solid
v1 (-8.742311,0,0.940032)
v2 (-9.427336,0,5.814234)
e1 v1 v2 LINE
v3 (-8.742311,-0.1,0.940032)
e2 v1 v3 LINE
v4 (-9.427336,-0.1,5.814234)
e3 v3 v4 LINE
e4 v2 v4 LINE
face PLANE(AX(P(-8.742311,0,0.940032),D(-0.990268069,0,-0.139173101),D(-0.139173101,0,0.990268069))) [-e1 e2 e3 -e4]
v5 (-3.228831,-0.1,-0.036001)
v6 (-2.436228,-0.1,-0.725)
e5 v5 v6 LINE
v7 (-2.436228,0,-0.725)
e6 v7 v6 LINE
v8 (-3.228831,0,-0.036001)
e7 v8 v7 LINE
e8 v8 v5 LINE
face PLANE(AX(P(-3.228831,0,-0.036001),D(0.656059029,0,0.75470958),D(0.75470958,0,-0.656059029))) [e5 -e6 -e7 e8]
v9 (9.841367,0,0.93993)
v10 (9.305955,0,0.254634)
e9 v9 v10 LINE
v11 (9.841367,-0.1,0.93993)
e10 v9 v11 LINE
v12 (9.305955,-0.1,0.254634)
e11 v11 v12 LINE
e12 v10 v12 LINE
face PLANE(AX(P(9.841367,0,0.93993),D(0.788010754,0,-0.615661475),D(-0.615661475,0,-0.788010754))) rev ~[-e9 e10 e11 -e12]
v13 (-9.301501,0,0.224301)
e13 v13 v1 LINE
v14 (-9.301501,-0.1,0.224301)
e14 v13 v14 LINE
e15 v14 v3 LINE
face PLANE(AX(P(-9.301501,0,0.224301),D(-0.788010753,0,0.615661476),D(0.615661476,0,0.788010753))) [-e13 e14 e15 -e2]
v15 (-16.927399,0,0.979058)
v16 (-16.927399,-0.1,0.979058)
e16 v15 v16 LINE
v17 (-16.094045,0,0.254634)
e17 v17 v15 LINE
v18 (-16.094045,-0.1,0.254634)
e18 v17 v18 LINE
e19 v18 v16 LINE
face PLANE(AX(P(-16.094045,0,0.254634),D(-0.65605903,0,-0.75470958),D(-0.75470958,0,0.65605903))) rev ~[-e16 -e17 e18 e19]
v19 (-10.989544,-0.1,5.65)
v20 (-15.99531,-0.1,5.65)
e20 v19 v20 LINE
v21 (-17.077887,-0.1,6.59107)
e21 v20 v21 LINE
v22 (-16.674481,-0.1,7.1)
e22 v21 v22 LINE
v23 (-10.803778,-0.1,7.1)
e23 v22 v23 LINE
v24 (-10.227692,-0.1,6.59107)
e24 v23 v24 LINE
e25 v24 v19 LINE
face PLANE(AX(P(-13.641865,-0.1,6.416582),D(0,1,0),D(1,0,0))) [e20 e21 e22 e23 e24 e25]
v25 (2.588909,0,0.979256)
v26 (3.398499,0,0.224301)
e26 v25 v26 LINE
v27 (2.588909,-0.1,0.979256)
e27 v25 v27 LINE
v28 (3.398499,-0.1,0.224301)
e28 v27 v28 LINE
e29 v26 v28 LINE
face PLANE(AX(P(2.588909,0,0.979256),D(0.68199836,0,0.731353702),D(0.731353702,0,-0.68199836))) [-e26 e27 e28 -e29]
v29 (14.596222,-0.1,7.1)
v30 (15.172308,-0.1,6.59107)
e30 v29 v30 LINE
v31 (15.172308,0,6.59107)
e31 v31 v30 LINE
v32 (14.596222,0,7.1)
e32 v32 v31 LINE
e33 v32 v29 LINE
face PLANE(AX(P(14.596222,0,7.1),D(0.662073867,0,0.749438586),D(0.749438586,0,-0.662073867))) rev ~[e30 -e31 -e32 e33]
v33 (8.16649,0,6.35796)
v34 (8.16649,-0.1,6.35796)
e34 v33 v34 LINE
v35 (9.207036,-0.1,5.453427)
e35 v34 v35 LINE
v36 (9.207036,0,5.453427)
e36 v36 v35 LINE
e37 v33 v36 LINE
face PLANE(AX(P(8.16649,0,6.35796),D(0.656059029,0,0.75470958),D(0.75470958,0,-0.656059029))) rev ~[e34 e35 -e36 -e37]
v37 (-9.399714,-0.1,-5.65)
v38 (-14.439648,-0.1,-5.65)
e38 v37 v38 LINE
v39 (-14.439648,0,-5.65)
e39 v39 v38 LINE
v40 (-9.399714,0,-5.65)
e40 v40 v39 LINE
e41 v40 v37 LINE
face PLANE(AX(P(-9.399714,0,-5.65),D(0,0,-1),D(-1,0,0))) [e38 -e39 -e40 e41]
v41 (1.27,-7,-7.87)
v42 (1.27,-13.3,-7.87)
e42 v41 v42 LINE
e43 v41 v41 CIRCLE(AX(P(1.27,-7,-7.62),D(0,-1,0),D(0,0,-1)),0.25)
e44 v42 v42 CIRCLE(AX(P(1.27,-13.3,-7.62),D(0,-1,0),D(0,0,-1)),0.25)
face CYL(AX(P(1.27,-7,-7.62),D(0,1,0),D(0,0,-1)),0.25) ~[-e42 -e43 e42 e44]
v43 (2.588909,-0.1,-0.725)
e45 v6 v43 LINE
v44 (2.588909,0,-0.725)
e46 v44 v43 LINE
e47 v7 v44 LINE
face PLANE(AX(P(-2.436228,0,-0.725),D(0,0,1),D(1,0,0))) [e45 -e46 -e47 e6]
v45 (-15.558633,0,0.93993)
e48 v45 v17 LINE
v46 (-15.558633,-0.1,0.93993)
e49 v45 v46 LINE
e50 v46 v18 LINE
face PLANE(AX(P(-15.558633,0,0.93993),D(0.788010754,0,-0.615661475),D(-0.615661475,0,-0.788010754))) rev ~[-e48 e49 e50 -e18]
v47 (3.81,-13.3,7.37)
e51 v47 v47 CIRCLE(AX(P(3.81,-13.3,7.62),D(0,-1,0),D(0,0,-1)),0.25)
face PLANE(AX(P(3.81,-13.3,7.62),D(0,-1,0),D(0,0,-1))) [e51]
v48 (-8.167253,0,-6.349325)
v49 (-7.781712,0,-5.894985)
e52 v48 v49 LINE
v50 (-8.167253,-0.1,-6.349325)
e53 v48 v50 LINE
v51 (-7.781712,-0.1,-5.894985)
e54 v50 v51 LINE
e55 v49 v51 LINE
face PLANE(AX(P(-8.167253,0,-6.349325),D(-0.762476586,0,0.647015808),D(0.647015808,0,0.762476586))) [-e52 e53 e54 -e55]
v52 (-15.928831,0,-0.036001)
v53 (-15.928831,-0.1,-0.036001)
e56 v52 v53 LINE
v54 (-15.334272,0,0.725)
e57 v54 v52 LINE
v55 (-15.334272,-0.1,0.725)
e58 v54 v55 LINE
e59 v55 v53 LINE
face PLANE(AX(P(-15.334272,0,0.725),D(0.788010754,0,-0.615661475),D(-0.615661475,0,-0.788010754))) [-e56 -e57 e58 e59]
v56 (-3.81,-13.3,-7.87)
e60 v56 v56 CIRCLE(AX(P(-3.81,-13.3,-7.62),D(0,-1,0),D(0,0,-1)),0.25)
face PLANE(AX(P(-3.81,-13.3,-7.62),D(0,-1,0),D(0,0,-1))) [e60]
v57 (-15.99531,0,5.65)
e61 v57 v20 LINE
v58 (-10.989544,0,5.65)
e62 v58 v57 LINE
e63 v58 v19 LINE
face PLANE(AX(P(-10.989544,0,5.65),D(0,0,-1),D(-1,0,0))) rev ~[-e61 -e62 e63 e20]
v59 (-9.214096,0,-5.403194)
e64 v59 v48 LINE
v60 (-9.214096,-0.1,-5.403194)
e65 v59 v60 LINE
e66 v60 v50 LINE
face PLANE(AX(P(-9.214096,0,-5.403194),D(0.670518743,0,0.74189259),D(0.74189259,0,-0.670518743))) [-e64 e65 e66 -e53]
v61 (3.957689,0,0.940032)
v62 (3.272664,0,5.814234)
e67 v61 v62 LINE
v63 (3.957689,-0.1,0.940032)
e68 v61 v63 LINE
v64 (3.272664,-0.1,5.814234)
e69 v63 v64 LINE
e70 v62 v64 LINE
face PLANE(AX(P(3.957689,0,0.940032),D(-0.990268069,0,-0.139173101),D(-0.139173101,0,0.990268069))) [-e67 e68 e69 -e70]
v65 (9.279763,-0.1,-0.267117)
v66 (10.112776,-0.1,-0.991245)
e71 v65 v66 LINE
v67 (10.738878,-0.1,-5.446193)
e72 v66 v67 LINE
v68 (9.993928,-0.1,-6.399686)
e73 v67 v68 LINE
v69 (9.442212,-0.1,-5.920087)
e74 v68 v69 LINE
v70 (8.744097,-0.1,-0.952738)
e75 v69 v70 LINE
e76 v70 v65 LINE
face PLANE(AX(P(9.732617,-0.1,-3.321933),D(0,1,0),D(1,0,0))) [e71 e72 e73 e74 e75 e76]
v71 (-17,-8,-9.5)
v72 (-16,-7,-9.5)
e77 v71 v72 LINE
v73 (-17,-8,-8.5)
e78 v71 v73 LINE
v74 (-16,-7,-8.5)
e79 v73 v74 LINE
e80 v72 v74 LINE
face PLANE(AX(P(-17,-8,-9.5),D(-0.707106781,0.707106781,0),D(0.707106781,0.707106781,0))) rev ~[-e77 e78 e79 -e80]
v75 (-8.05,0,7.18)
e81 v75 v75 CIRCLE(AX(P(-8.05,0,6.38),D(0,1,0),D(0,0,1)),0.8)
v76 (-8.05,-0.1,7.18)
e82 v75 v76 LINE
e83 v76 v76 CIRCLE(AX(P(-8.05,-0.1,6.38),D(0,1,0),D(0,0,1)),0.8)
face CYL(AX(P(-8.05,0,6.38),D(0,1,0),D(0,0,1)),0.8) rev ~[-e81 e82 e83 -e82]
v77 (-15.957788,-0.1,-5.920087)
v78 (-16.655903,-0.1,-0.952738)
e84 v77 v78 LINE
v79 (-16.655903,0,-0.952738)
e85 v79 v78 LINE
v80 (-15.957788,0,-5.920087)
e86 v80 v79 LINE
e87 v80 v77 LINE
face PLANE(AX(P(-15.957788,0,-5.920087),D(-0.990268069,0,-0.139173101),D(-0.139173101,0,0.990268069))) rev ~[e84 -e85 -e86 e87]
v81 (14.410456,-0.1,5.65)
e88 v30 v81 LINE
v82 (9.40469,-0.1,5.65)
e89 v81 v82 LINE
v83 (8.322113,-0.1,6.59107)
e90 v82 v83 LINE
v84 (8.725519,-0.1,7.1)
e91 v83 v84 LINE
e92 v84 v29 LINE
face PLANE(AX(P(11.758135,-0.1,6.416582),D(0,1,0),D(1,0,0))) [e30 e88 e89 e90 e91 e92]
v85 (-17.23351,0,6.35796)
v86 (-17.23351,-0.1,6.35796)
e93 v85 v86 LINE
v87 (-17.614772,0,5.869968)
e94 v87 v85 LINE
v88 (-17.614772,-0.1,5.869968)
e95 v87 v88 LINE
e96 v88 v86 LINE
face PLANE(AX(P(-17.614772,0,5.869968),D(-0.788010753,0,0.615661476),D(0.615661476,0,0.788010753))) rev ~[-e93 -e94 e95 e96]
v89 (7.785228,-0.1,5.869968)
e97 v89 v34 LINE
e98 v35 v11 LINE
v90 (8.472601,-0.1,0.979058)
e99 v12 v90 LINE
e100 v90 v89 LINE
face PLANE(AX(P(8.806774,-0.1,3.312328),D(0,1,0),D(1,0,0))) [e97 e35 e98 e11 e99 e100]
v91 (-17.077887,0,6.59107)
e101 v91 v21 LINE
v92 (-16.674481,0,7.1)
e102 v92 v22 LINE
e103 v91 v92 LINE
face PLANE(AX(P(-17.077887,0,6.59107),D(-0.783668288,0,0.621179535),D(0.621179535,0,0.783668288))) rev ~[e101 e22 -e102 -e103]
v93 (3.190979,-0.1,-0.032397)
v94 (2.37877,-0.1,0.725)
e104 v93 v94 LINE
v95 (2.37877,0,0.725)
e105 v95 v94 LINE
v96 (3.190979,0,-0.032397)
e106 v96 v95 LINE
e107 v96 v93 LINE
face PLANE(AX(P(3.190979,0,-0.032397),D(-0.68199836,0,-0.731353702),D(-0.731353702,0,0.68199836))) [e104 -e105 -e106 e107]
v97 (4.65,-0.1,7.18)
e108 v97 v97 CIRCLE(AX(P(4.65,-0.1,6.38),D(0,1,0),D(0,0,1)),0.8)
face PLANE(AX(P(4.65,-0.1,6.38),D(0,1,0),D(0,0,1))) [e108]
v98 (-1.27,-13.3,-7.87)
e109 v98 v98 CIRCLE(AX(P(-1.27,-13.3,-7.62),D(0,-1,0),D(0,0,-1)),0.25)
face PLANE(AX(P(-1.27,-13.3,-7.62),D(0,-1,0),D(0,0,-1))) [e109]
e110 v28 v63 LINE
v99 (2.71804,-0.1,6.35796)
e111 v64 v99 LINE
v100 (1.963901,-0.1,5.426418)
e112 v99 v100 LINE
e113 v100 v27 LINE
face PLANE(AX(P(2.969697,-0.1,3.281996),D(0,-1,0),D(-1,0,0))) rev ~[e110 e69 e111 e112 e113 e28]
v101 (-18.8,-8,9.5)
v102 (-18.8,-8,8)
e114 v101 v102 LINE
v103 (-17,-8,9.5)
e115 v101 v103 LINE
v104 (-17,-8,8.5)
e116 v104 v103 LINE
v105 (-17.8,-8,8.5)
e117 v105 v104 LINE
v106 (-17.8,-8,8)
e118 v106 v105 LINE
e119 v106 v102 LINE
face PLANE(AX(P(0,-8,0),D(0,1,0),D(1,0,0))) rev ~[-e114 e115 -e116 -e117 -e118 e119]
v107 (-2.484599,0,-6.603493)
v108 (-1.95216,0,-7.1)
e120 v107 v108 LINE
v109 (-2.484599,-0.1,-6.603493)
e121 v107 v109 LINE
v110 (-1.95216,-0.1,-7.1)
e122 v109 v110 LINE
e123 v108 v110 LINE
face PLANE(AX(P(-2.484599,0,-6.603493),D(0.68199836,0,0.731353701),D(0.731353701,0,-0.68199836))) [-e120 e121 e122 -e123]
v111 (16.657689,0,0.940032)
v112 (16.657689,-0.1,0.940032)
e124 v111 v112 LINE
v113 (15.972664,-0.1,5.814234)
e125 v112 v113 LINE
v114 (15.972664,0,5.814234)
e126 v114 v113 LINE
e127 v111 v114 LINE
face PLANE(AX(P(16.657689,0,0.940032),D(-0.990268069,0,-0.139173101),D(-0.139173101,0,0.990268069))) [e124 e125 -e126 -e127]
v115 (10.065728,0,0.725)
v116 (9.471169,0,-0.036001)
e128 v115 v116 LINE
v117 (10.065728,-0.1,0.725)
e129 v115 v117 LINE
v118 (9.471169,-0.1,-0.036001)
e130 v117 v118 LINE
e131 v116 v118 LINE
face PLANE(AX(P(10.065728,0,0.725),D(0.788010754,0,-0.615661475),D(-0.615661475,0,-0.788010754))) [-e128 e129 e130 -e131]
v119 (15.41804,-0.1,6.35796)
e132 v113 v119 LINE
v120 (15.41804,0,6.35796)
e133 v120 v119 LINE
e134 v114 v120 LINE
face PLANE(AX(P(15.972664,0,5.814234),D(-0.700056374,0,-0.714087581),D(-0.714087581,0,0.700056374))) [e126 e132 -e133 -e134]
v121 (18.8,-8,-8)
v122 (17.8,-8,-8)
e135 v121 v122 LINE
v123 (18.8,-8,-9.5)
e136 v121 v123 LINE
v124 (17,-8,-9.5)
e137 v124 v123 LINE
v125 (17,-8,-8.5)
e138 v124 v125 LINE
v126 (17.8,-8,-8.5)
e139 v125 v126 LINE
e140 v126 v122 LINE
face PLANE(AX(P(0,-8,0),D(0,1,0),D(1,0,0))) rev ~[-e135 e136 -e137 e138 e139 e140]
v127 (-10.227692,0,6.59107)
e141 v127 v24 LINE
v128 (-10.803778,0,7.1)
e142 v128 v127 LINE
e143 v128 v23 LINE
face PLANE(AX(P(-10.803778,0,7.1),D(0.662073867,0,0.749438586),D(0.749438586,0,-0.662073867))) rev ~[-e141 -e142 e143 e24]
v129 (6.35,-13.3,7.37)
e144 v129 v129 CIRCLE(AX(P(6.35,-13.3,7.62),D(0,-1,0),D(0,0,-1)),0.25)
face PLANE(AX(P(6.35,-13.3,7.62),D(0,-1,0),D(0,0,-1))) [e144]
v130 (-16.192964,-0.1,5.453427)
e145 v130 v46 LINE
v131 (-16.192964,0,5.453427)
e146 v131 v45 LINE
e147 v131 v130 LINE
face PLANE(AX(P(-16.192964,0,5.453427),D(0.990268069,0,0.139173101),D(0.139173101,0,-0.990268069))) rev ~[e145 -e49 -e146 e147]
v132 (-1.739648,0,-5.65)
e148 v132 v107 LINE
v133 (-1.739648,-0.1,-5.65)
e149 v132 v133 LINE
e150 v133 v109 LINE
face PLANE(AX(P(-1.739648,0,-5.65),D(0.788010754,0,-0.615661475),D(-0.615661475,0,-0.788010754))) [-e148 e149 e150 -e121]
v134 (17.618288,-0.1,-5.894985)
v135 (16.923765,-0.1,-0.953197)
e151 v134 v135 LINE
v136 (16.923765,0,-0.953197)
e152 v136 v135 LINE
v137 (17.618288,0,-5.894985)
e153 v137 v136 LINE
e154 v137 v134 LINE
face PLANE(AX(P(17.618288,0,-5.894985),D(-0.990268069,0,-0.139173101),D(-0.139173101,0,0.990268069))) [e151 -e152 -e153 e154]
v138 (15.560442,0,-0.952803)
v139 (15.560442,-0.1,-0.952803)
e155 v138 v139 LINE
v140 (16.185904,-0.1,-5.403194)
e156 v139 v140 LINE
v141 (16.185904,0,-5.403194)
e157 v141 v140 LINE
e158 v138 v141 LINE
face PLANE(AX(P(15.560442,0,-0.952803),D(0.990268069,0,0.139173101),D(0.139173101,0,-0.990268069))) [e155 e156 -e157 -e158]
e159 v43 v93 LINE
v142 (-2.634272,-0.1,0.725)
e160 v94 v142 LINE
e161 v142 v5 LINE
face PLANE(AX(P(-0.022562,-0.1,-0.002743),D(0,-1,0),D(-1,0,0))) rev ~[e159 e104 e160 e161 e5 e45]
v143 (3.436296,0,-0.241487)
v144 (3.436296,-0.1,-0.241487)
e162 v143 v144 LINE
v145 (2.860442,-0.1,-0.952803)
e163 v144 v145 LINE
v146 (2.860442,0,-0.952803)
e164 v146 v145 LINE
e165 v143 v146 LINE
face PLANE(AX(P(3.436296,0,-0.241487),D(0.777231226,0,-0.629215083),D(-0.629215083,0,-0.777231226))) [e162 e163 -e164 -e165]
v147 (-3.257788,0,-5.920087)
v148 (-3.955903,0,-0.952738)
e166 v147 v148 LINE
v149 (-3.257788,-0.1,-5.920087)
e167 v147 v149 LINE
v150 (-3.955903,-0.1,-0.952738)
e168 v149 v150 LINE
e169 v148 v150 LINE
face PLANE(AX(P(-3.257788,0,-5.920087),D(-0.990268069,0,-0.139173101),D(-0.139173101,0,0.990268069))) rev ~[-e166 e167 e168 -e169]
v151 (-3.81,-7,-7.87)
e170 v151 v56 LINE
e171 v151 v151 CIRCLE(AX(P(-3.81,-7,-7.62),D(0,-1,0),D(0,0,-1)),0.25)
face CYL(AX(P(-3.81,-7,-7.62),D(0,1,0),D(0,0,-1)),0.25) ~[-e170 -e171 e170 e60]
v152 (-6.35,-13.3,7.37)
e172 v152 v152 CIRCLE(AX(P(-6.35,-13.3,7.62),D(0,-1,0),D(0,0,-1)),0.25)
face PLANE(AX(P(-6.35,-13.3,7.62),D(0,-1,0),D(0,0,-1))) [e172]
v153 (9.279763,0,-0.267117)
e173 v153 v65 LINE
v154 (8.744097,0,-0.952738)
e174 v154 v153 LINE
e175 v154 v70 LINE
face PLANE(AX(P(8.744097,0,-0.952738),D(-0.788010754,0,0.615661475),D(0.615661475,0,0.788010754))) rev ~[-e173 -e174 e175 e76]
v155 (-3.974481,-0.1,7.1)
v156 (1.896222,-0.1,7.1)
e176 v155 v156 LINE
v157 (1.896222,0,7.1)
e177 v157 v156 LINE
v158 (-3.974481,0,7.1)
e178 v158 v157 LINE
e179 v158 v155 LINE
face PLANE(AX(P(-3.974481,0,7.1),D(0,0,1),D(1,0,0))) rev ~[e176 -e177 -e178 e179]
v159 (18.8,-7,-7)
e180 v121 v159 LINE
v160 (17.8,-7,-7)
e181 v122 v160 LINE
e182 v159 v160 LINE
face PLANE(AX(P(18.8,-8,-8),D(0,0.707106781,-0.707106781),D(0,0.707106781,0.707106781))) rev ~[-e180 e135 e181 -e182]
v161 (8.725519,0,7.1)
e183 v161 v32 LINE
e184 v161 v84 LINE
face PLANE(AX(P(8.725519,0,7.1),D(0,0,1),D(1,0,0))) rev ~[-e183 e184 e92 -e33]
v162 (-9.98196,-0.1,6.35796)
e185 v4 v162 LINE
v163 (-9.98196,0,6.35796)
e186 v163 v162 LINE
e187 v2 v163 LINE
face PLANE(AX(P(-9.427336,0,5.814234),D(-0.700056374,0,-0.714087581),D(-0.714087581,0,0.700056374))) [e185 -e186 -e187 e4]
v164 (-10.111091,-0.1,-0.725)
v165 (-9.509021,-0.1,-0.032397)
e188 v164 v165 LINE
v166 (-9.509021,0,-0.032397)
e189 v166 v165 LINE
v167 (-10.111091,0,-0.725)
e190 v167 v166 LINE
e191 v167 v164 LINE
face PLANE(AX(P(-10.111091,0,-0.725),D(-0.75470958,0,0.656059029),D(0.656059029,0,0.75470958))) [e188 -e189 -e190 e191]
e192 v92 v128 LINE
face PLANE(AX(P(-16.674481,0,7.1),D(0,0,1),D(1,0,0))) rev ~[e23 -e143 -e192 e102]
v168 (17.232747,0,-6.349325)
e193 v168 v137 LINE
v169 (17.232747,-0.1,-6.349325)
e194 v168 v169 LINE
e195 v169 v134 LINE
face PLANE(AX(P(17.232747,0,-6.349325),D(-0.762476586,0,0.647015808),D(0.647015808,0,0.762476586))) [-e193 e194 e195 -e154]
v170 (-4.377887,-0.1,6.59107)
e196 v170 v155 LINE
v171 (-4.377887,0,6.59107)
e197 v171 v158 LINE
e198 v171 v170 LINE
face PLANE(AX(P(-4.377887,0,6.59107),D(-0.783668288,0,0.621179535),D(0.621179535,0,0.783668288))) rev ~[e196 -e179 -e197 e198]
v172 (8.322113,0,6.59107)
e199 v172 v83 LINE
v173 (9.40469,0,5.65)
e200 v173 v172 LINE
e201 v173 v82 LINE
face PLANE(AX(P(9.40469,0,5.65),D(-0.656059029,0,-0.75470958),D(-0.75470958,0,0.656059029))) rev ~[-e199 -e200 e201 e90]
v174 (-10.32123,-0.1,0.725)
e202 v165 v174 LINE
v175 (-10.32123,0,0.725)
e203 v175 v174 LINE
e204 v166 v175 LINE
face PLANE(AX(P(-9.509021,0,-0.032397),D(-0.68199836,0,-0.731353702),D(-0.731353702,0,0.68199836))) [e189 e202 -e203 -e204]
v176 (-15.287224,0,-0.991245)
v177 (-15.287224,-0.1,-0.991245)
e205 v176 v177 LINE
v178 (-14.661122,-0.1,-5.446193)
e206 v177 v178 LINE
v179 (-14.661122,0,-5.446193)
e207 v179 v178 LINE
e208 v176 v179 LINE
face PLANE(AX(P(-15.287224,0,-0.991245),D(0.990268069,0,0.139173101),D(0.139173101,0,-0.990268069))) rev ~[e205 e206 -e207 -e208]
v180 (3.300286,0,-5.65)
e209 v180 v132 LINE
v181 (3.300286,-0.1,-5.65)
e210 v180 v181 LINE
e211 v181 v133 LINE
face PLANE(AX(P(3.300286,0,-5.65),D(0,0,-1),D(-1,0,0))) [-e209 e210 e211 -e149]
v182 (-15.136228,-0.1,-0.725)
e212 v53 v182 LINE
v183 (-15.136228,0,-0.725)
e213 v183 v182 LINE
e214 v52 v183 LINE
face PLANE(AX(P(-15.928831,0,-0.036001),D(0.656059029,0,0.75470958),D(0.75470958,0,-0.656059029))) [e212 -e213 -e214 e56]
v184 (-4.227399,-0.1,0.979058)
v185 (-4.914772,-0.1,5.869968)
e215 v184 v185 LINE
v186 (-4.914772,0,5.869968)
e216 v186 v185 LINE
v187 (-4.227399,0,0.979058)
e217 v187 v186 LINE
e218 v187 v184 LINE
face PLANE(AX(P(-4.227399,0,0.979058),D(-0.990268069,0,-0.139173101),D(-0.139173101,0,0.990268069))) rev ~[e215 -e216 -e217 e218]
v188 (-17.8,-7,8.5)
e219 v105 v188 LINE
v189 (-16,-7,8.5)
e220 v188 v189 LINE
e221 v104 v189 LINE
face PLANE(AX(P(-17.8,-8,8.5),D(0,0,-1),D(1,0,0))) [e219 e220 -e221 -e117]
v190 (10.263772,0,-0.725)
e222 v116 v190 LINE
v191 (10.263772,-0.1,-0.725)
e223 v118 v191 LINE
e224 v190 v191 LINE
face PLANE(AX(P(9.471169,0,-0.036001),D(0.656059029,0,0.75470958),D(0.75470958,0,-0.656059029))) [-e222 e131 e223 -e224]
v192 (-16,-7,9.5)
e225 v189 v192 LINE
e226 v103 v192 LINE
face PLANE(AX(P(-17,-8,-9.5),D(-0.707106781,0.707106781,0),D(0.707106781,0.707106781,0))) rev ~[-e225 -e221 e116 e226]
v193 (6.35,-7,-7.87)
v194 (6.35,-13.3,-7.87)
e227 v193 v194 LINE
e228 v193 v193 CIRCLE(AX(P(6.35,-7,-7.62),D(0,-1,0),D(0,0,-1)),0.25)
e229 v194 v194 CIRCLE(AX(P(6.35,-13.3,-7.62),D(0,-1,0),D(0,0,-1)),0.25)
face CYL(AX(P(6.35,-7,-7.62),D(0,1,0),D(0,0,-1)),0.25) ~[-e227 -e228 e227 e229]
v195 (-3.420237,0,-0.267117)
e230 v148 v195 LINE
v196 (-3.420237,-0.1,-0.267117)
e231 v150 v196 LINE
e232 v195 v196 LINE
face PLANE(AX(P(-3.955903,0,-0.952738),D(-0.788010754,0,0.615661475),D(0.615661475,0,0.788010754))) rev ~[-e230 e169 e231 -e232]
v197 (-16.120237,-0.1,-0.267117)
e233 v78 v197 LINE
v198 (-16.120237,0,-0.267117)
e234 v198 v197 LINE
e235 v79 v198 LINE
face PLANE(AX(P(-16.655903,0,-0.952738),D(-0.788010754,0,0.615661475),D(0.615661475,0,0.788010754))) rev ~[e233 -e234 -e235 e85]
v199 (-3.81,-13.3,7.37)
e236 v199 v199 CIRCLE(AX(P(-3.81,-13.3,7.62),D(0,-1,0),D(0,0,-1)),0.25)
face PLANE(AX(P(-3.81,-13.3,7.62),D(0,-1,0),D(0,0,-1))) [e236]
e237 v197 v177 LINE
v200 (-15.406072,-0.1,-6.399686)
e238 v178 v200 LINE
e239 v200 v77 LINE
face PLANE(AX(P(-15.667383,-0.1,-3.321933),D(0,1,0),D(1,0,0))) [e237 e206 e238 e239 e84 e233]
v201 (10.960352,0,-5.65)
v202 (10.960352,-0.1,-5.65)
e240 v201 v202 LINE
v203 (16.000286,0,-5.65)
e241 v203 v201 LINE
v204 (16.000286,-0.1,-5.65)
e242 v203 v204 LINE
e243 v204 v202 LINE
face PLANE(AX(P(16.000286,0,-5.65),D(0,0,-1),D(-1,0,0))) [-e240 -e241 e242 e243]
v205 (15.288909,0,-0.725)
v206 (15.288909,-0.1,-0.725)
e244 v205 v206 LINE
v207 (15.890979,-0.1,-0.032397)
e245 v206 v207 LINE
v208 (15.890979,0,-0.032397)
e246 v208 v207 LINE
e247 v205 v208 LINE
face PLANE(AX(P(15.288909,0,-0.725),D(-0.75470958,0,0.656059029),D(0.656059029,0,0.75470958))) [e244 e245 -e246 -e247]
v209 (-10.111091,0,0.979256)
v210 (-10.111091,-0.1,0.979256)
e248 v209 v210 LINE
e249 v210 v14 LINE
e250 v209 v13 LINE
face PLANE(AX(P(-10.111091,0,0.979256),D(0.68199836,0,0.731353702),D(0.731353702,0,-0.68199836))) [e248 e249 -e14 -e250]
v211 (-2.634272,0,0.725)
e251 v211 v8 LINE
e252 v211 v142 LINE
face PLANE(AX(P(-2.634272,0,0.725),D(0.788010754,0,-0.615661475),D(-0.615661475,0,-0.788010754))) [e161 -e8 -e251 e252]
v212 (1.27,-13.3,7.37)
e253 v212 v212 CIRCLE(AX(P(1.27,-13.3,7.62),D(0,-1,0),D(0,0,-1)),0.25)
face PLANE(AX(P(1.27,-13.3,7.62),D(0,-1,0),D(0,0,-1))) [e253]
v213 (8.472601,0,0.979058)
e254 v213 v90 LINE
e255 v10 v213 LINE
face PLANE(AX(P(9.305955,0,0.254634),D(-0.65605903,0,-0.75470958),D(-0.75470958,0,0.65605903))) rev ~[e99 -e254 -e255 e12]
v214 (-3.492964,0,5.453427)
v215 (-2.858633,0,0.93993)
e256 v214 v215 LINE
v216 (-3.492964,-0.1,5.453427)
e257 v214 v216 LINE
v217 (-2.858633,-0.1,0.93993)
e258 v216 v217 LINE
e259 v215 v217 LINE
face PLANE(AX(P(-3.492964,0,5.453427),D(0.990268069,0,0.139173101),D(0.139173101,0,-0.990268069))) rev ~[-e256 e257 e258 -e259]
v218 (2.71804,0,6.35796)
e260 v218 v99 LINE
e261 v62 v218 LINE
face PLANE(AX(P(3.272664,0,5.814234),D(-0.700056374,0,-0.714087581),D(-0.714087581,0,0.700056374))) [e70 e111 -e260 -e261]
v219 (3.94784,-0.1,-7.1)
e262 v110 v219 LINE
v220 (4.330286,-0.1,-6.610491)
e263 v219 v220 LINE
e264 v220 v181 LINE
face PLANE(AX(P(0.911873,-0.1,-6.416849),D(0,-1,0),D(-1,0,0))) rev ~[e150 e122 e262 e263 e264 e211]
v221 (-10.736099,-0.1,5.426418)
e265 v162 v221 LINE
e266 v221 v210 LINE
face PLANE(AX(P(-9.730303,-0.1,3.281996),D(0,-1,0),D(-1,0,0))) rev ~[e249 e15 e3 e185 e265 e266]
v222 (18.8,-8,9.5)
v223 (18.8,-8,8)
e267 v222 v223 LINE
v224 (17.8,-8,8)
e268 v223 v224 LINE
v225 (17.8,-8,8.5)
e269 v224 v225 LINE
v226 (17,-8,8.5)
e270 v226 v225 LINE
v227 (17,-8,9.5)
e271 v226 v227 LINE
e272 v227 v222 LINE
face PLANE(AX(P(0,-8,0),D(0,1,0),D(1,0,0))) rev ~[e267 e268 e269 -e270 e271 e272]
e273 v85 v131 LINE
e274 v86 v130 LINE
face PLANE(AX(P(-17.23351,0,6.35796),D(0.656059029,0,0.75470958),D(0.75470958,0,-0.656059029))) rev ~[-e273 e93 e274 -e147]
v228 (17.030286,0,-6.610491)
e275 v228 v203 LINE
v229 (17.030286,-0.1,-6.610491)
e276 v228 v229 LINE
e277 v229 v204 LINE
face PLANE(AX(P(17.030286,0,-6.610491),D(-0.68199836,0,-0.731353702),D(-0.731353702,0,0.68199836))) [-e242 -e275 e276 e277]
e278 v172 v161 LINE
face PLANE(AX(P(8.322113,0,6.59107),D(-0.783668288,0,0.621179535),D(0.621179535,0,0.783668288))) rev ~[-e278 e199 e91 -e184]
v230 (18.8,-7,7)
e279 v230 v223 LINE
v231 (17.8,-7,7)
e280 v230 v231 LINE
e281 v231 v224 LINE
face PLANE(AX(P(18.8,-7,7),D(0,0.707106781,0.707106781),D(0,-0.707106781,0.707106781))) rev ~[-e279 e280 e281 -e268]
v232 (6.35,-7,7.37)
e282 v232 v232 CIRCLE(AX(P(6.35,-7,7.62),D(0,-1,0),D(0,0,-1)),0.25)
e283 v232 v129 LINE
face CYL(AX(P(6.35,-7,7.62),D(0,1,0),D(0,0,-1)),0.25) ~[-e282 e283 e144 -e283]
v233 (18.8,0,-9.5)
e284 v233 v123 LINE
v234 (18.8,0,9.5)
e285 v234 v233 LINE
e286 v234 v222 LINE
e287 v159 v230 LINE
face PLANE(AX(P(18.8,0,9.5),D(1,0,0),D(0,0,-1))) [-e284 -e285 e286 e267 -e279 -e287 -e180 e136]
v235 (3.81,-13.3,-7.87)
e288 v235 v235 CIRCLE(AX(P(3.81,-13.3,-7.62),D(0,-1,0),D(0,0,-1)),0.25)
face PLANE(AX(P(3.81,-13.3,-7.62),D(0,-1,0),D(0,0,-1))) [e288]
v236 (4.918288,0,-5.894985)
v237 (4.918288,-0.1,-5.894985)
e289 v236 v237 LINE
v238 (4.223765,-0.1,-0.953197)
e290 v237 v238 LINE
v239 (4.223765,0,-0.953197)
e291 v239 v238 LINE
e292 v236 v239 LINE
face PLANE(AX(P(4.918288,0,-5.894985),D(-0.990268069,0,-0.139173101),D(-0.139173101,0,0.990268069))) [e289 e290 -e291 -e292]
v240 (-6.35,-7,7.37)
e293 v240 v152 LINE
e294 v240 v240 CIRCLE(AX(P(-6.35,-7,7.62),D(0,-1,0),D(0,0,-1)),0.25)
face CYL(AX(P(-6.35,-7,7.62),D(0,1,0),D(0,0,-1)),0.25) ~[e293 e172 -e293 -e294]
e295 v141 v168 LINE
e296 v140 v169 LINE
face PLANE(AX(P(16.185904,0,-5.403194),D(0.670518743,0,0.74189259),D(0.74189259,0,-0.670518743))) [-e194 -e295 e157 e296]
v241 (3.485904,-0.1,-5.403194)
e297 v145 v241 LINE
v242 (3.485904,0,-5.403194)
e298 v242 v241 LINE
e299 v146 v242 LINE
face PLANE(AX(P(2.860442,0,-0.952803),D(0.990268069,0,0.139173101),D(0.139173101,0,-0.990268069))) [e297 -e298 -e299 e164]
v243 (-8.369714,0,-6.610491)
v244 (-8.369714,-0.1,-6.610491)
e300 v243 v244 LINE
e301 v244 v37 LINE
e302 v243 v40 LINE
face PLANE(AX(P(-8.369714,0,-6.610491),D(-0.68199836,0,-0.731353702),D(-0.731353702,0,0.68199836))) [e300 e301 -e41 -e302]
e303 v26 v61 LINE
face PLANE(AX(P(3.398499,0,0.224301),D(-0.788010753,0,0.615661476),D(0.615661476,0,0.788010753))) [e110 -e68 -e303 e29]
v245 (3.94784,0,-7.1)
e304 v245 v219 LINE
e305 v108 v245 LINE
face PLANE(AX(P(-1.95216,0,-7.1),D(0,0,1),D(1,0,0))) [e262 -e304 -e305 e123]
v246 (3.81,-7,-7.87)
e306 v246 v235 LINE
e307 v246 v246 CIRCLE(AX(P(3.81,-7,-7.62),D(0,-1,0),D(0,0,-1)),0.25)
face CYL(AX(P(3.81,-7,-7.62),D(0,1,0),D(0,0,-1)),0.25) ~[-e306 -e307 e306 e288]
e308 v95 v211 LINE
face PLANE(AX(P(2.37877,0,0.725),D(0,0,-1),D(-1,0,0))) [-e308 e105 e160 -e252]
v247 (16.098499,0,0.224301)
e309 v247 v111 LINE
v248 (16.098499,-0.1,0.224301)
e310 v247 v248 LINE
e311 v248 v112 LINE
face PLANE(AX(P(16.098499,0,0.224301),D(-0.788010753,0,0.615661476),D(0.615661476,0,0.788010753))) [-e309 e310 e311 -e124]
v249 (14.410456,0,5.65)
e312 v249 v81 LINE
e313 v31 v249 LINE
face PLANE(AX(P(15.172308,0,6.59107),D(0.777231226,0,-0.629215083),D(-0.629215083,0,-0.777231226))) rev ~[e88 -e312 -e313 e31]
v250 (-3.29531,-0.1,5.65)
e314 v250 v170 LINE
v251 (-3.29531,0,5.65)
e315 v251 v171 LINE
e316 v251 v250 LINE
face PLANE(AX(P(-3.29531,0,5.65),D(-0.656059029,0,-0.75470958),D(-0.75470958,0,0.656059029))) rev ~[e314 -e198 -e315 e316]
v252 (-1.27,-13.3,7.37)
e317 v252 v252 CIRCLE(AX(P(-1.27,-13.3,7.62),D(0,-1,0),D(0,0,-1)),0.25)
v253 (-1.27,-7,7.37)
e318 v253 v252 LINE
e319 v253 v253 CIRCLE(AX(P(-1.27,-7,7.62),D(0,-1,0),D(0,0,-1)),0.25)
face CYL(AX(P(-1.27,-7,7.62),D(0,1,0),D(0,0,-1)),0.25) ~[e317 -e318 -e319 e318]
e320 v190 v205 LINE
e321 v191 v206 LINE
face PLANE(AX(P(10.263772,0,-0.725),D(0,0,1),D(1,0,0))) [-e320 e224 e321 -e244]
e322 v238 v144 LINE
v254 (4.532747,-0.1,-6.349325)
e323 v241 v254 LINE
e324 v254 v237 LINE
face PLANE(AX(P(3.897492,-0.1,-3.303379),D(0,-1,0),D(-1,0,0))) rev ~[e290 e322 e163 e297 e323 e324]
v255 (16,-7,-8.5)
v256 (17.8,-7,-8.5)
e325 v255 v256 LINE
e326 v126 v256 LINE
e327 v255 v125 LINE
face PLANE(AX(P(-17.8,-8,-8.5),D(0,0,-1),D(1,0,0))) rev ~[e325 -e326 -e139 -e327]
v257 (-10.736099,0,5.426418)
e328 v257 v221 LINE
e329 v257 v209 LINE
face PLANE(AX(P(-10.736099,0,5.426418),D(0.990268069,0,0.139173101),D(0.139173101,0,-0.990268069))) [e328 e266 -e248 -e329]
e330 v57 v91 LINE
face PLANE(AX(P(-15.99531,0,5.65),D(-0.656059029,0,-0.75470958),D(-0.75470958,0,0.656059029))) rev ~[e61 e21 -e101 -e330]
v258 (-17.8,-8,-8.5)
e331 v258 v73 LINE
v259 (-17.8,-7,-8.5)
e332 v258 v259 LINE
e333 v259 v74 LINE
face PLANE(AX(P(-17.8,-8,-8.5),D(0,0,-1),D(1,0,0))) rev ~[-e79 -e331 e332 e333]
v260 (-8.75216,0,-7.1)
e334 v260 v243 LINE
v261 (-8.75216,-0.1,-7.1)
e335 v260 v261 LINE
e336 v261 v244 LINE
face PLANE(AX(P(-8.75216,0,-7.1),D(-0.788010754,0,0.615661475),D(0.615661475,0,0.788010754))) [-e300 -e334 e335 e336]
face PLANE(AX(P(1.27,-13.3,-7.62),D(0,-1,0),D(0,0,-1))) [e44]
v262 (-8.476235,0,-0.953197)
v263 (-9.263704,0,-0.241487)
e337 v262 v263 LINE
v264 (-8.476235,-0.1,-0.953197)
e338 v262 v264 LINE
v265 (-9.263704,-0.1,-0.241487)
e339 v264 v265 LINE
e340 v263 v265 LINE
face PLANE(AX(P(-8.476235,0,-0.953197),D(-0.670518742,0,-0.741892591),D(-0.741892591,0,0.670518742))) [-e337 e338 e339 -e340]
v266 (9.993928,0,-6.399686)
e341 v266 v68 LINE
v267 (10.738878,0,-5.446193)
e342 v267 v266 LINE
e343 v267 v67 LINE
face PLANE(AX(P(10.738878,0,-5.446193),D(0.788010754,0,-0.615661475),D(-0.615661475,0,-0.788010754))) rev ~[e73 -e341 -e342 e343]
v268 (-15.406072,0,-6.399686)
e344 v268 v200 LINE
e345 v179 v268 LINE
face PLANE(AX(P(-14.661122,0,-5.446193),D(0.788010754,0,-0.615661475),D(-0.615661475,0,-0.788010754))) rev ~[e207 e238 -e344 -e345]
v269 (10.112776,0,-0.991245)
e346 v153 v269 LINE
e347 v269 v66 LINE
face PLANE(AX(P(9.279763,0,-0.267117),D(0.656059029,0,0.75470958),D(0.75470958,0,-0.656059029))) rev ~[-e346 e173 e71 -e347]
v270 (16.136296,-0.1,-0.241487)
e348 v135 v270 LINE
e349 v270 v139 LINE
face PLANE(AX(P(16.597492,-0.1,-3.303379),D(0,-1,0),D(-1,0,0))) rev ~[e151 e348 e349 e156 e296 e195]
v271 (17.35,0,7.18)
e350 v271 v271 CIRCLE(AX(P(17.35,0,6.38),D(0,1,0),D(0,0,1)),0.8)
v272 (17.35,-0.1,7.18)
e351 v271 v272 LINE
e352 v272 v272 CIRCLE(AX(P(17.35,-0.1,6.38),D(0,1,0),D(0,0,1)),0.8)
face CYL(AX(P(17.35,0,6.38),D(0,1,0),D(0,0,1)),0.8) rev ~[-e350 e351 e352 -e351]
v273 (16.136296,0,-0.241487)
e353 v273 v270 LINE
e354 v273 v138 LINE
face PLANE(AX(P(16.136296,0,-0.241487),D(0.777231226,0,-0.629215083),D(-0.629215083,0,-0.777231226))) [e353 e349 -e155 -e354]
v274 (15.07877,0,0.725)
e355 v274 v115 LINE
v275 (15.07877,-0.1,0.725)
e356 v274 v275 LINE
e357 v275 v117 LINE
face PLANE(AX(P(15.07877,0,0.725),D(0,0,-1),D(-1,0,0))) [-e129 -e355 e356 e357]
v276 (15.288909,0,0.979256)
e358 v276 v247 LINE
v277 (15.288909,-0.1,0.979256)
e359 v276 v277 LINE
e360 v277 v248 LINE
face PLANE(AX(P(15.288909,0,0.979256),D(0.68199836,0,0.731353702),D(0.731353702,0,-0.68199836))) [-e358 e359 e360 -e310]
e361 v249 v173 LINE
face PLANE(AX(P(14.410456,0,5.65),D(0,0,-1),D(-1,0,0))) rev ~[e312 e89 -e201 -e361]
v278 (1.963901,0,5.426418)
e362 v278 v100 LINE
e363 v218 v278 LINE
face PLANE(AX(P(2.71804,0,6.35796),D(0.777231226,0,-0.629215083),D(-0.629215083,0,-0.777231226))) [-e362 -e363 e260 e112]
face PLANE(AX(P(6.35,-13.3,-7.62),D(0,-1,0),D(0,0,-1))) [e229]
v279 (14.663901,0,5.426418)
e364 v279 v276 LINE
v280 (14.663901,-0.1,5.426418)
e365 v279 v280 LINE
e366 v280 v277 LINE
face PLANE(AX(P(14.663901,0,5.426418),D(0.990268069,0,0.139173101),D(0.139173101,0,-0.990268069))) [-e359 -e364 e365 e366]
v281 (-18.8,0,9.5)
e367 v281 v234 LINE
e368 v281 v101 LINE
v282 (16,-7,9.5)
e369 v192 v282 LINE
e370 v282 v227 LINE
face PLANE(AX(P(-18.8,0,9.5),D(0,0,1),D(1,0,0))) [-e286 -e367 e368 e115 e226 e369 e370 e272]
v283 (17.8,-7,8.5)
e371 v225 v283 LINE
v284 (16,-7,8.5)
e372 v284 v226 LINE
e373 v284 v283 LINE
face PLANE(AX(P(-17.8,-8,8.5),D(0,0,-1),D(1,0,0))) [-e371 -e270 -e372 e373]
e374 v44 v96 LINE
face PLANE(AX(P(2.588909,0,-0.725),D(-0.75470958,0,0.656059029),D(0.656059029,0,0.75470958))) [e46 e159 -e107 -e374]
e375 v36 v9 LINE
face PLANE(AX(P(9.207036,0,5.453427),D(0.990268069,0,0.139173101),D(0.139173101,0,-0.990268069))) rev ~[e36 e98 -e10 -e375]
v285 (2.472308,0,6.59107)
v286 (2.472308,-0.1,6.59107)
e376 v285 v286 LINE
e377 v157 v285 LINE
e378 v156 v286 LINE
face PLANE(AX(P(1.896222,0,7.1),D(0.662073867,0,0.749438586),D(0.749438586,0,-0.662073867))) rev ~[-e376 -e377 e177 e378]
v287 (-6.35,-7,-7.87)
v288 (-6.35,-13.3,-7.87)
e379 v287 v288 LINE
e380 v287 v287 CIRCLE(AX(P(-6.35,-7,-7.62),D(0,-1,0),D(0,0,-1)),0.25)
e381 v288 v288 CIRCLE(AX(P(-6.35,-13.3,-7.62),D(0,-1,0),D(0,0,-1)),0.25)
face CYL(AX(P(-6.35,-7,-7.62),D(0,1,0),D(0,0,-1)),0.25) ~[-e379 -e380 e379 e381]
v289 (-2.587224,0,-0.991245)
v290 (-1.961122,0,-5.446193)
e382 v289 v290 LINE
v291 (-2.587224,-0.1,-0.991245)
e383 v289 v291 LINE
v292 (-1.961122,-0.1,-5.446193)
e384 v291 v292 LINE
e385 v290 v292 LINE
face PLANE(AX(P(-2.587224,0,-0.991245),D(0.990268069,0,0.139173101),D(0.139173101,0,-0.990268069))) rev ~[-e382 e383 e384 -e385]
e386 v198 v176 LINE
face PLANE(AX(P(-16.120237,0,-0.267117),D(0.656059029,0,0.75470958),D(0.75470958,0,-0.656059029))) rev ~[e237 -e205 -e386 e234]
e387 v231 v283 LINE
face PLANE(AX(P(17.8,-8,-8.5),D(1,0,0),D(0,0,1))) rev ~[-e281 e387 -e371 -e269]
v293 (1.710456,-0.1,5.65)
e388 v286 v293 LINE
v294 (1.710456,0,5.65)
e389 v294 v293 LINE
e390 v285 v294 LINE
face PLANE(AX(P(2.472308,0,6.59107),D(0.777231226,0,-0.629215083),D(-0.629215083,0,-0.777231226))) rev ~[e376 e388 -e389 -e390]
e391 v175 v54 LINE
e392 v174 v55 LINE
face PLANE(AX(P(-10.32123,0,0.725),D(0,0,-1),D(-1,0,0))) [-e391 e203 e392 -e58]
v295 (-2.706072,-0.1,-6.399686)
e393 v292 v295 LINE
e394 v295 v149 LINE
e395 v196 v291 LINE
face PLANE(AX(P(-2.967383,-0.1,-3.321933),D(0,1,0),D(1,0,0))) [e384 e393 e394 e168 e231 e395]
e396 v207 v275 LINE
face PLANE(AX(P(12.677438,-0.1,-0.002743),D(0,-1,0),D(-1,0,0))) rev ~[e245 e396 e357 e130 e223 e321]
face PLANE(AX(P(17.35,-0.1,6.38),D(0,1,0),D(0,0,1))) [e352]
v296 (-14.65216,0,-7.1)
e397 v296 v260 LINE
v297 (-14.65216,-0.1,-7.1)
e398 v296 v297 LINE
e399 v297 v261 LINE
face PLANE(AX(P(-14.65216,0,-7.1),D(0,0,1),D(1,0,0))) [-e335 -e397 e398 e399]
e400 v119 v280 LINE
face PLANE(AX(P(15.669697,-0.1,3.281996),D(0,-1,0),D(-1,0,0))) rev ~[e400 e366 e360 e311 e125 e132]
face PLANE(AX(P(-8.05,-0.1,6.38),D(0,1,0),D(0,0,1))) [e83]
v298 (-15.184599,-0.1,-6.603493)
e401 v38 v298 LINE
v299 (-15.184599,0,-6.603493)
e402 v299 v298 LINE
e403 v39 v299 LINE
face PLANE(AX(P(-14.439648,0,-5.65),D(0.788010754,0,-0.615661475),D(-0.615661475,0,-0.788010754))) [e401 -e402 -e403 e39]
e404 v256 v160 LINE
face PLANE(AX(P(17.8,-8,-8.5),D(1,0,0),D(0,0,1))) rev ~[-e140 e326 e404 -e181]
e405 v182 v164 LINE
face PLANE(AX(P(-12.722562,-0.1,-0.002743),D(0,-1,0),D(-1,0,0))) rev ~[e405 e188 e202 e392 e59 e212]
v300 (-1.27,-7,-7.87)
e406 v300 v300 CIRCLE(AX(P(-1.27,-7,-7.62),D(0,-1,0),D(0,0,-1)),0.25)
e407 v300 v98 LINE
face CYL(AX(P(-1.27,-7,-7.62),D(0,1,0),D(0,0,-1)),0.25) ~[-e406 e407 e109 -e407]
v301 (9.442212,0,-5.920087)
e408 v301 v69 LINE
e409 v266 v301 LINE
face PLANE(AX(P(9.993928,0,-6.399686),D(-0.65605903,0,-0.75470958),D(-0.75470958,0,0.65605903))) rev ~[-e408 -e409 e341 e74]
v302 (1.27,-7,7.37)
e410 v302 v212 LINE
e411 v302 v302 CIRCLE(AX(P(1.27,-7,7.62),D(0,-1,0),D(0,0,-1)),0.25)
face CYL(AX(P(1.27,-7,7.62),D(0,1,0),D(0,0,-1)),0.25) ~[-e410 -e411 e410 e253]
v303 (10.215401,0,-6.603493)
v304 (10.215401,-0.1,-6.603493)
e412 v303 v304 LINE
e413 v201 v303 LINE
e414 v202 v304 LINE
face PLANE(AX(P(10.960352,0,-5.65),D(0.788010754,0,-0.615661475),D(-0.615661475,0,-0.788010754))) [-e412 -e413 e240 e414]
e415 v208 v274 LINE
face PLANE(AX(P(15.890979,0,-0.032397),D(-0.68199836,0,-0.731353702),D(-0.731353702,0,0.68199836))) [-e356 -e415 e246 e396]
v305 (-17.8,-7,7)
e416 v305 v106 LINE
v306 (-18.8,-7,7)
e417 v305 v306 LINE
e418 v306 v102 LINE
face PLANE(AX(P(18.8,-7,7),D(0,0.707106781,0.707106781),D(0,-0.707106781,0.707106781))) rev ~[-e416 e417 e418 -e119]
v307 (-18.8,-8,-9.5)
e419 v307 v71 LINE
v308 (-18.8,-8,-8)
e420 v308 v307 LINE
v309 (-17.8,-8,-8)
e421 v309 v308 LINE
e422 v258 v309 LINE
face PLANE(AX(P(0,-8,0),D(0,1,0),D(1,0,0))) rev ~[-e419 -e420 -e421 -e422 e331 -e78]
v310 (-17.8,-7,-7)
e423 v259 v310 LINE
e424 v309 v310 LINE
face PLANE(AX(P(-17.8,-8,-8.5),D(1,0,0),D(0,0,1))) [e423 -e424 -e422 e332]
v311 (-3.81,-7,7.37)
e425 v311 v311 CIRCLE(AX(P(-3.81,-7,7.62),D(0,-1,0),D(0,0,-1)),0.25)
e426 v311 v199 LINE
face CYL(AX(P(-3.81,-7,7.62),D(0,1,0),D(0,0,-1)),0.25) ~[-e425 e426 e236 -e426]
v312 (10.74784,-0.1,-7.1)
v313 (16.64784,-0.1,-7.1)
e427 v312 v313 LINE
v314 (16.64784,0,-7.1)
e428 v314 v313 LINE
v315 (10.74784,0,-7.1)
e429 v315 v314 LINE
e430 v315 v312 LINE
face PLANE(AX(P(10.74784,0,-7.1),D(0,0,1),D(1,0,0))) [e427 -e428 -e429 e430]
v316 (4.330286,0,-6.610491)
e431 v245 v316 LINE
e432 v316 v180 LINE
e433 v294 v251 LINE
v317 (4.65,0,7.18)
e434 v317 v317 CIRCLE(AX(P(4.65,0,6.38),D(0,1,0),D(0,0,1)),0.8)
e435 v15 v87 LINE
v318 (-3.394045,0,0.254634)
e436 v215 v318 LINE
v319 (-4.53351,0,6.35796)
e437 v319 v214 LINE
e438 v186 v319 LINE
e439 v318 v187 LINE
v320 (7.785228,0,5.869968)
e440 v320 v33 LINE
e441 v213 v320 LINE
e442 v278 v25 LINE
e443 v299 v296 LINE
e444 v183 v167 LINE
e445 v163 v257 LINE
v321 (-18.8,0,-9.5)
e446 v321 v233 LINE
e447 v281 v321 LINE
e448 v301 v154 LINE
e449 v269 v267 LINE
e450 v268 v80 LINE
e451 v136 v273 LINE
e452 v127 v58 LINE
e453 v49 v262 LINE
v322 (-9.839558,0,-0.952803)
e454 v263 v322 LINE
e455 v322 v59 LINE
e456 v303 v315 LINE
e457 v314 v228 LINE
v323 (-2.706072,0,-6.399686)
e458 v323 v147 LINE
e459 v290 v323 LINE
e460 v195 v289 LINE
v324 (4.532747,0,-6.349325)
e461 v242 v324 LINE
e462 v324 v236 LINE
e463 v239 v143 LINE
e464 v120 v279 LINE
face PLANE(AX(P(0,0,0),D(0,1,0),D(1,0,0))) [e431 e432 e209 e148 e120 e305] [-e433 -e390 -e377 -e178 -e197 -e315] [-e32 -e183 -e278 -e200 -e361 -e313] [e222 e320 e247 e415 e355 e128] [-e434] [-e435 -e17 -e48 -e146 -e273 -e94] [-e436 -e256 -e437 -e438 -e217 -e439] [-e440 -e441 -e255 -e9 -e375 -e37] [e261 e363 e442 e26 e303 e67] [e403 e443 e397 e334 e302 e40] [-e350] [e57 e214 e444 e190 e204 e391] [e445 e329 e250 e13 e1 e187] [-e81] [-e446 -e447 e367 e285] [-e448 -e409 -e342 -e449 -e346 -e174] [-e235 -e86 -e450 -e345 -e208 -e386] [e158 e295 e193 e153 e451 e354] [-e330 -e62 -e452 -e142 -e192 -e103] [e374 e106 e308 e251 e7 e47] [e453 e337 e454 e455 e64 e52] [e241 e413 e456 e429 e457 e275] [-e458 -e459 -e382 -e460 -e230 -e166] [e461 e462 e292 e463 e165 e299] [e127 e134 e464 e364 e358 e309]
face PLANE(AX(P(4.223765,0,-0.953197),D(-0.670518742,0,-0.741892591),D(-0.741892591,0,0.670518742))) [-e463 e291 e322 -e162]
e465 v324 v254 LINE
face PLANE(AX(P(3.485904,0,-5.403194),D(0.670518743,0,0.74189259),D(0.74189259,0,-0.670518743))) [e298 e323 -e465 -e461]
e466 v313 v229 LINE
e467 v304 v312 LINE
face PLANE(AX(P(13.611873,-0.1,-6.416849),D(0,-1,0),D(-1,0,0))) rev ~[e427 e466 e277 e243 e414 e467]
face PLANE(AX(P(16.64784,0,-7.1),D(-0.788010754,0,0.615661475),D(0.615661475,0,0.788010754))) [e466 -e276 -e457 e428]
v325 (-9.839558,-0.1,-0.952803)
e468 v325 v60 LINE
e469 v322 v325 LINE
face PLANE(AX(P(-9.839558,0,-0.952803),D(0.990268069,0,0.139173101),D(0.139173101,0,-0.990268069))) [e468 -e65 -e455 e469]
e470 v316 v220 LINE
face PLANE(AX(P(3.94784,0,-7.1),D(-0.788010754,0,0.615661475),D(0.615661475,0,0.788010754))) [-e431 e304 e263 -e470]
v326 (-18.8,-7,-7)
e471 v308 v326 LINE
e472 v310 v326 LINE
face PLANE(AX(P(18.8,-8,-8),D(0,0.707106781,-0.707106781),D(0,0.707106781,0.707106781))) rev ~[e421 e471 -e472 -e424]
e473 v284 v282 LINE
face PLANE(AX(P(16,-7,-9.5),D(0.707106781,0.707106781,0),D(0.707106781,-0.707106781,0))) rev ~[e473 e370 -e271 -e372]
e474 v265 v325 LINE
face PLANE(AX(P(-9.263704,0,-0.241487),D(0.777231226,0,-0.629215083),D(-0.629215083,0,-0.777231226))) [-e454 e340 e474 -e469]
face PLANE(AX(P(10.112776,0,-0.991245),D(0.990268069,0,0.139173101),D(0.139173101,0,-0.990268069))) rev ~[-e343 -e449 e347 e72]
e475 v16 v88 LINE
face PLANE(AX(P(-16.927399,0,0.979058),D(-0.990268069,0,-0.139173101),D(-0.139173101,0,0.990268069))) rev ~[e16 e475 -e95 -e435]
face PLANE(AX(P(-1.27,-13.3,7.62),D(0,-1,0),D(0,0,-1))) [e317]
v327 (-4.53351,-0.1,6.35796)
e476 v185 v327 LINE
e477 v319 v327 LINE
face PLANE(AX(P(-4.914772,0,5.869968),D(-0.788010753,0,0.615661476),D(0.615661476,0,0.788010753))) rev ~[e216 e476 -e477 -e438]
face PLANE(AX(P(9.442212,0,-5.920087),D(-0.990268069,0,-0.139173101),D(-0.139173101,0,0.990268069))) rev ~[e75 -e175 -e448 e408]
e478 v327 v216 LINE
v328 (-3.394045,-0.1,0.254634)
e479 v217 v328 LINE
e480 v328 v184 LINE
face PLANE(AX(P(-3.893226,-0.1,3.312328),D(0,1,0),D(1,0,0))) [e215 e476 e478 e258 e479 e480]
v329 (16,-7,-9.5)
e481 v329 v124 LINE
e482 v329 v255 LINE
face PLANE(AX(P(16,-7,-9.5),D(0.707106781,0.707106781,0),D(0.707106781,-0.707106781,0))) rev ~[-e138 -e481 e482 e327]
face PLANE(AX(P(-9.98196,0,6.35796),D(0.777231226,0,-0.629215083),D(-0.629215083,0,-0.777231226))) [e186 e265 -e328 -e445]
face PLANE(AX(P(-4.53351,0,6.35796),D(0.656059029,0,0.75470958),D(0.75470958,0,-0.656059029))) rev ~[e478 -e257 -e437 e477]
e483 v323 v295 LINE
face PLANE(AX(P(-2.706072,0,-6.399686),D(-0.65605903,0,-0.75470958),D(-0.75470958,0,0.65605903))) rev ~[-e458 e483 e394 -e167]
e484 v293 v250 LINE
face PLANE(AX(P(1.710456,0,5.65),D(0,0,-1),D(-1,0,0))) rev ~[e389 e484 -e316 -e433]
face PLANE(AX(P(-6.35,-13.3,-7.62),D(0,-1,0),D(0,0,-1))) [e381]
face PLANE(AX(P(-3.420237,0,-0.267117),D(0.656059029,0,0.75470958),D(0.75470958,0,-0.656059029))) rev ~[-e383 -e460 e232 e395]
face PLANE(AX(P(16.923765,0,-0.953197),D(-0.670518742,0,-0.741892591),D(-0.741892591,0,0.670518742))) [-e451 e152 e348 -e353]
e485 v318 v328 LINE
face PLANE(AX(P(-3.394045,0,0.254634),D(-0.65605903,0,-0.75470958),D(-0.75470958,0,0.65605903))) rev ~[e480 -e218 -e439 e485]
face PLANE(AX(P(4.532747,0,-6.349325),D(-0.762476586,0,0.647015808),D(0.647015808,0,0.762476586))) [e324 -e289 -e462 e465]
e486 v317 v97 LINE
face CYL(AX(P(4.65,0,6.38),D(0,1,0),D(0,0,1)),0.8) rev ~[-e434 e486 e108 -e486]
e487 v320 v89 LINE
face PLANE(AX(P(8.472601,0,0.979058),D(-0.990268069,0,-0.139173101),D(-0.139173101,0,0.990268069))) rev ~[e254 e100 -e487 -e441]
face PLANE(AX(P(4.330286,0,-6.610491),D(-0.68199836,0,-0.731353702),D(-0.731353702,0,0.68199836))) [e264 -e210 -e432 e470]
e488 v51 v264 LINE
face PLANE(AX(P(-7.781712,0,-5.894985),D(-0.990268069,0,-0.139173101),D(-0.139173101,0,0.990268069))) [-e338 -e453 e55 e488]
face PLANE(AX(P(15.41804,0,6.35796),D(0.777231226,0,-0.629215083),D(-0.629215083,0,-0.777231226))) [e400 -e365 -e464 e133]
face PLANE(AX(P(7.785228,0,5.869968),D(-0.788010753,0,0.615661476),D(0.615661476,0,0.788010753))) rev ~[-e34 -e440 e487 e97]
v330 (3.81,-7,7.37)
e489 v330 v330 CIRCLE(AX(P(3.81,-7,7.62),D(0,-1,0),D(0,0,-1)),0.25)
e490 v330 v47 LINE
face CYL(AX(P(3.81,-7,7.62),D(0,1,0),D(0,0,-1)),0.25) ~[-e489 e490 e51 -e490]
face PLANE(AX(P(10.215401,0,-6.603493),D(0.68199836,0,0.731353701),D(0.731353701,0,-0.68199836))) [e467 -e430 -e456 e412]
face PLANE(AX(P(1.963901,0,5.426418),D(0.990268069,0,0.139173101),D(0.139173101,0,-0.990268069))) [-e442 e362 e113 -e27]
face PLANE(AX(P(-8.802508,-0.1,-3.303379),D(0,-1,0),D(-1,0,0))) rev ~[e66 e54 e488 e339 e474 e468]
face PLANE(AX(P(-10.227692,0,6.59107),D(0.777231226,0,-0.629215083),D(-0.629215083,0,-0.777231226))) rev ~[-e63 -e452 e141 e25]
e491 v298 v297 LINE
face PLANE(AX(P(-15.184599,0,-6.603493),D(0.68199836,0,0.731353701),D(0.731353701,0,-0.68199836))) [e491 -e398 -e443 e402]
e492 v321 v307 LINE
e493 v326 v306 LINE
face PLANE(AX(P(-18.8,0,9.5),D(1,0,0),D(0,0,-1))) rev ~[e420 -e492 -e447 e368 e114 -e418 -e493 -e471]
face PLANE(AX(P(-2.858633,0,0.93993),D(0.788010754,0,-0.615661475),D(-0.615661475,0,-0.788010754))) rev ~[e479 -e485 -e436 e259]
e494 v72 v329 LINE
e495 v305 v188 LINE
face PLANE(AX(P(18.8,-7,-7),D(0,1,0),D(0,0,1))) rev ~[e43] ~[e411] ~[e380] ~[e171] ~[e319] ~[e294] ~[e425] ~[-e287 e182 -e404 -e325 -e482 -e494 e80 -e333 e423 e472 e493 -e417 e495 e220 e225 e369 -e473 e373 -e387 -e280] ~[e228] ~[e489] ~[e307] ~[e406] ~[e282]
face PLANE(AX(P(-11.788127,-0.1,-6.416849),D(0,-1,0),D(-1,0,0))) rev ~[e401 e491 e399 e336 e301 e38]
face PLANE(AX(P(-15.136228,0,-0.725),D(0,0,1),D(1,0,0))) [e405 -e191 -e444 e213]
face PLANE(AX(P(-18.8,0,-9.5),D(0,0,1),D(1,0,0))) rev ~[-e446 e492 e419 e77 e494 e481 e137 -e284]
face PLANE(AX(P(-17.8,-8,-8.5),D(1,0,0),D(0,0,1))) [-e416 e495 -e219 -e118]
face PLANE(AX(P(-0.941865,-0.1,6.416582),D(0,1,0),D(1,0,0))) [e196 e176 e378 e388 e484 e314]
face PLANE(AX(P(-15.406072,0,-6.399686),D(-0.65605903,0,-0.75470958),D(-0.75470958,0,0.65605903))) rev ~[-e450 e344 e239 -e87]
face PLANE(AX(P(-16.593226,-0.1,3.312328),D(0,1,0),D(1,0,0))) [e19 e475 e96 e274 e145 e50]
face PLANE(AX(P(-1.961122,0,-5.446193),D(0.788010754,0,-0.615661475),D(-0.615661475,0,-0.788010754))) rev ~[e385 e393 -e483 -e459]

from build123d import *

# Parameters (mm, degrees)
SKETCH1_W           = 37.6
SKETCH1_H           = 19
BOSS_EXTRUDE1_DEPTH = 8
SKETCH2_R           = 0.8
CUT_EXTRUDE2_DEPTH  = 0.1
LPATTERN1_COUNT     = 2
LPATTERN1_PITCH     = 12.7
LPATTERN1_COL_COUNT = 2
LPATTERN1_COL_PITCH = 12.7
SKETCH3_W           = 35.6
SKETCH3_H           = 17
CUT_EXTRUDE3_DEPTH  = 1
CUT_EXTRUDE4_REACH  = 29.901
CUT_EXTRUDE5_REACH  = 41.598
SKETCH6_R           = 0.25
BOSS_EXTRUDE2_DEPTH = 6.3


with BuildPart() as part:
    # Sketch1 → Boss-Extrude1 (new body)
    with BuildSketch(Plane(origin=(0, 0, 0), x_dir=(1, 0, 0), z_dir=(0, 1, 0))):
        Rectangle(SKETCH1_W, SKETCH1_H)
    extrude(amount=-BOSS_EXTRUDE1_DEPTH)

    # Sketch2 → Cut-Extrude2 (cut)
    with BuildSketch(Plane(origin=(0, 0, 0), x_dir=(1, 0, 0), z_dir=(0, 1, 0))):
        with Locations(Location((4.65, -6.38, 0), (0, 0, 270))):
            Circle(SKETCH2_R)
        Polygon((-1.952160074, 7.1), (3.947839926, 7.1), (4.330286309, 6.610490952), (3.300285866, 5.65), (-1.739648247, 5.65), (-2.484598632, 6.603493012), align=None)
        Polygon((-3.974480793, -7.1), (1.896221961, -7.1), (2.47230822, -6.591070163), (1.710455735, -5.65), (-3.295309805, -5.65), (-4.377887189, -6.591070163), align=None)
        Polygon((-2.436227615, 0.725), (2.588908996, 0.725), (3.190979416, 0.03239721), (2.378770347, -0.725), (-2.634272031, -0.725), (-3.228830819, 0.036000546), align=None)
        Polygon((-3.257787721, 5.920086849), (-3.95590304, 0.952738247), (-3.420237283, 0.267117343), (-2.587224094, 0.991244661), (-1.961121981, 5.446192679), (-2.706072366, 6.399685691), align=None)
        Polygon((4.918287738, 5.894984695), (4.223764825, 0.953197385), (3.436295545, 0.241486663), (2.860442223, 0.952803342), (3.485903792, 5.403193652), (4.532747216, 6.349325404), align=None)
        Polygon((-4.227399341, -0.979058314), (-4.914771822, -5.869967647), (-4.533510098, -6.3579604), (-3.492963653, -5.453427176), (-2.858633029, -0.939930263), (-3.394044886, -0.254634337), align=None)
        Polygon((3.9576888, -0.940031907), (3.272664385, -5.814233886), (2.718039978, -6.3579604), (1.96390108, -5.426418363), (2.588908996, -0.979255956), (3.398498757, -0.224301291), align=None)
    cut_extrude2 = extrude(amount=-CUT_EXTRUDE2_DEPTH, mode=Mode.SUBTRACT)

    # LPattern1: Cut-Extrude2 ×2
    with Locations(*[(-i * LPATTERN1_PITCH, 0, 0) for i in range(1, LPATTERN1_COUNT)]):
        add(cut_extrude2, mode=Mode.SUBTRACT)

    # LPattern1 col: Cut-Extrude2 ×2
    with Locations(*[(i * LPATTERN1_COL_PITCH, 0, 0) for i in range(1, LPATTERN1_COL_COUNT)]):
        add(cut_extrude2, mode=Mode.SUBTRACT)

    # Sketch3 → Cut-Extrude3 (cut)
    with BuildSketch(Plane.XZ.offset(8)):
        Rectangle(SKETCH3_W, SKETCH3_H)
    extrude(amount=-CUT_EXTRUDE3_DEPTH, mode=Mode.SUBTRACT)

    # Cut-Extrude4: up to this face of the body (flat: up to its plane)
    cut_extrude4_end = Plane(part.part.faces().sort_by_distance((0, -4, 9.5))[0])
    # Sketch4 → Cut-Extrude4 (cut, up to the picked face)
    with BuildSketch(Plane(origin=(0, 0, -9.5), x_dir=(-1, 0, 0), z_dir=(0, 0, -1)), mode=Mode.PRIVATE) as cut_extrude4_sk1:
        Polygon((-17, -8), (17, -8), (16, -7), (-16, -7), align=None)
    cut_extrude4_tool1 = split(extrude(cut_extrude4_sk1.sketch, amount=-CUT_EXTRUDE4_REACH, mode=Mode.PRIVATE), bisect_by=cut_extrude4_end, keep=Keep.BOTH, mode=Mode.PRIVATE)
    add(cut_extrude4_tool1.solids().sort_by(Axis((0, -7.505051, -9.5), (0, 0, 1)))[0], mode=Mode.SUBTRACT)

    # Cut-Extrude5: up to this face of the body (flat: up to its plane)
    cut_extrude5_end = Plane(part.part.faces().sort_by_distance((-18.8, -4, 0))[0])
    # Sketch5 → Cut-Extrude5 (cut, up to the picked face)
    with BuildSketch(Plane(origin=(18.8, 0, 0), x_dir=(0, 0, -1), z_dir=(1, 0, 0)), mode=Mode.PRIVATE) as cut_extrude5_sk1:
        Polygon((-8, -8), (8, -8), (7, -7), (-7, -7), align=None)
    cut_extrude5_tool1 = split(extrude(cut_extrude5_sk1.sketch, amount=-CUT_EXTRUDE5_REACH, mode=Mode.PRIVATE), bisect_by=cut_extrude5_end, keep=Keep.BOTH, mode=Mode.PRIVATE)
    add(cut_extrude5_tool1.solids().sort_by(Axis((18.8, -7.511111, 0), (-1, 0, 0)))[0], mode=Mode.SUBTRACT)

    # Sketch6 → Boss-Extrude2 (add)
    with BuildSketch(Plane.XZ.offset(7)):
        with Locations(Location((-6.35, -7.62, 0), (0, 0, 270))):
            Circle(SKETCH6_R)
        with Locations(Location((-3.81, -7.62, 0), (0, 0, 270))):
            Circle(SKETCH6_R)
        with Locations(Location((-1.27, -7.62, 0), (0, 0, 270))):
            Circle(SKETCH6_R)
        with Locations(Location((1.27, -7.62, 0), (0, 0, 270))):
            Circle(SKETCH6_R)
        with Locations(Location((3.81, -7.62, 0), (0, 0, 270))):
            Circle(SKETCH6_R)
        with Locations(Location((6.35, -7.62, 0), (0, 0, 270))):
            Circle(SKETCH6_R)
        with Locations(Location((-3.81, 7.62, 0), (0, 0, 270))):
            Circle(SKETCH6_R)
        with Locations(Location((-1.27, 7.62, 0), (0, 0, 270))):
            Circle(SKETCH6_R)
        with Locations(Location((1.27, 7.62, 0), (0, 0, 270))):
            Circle(SKETCH6_R)
        with Locations(Location((3.81, 7.62, 0), (0, 0, 270))):
            Circle(SKETCH6_R)
        with Locations(Location((6.35, 7.62, 0), (0, 0, 270))):
            Circle(SKETCH6_R)
        with Locations(Location((-6.35, 7.62, 0), (0, 0, 270))):
            Circle(SKETCH6_R)
    extrude(amount=BOSS_EXTRUDE2_DEPTH)


solid = part.part
